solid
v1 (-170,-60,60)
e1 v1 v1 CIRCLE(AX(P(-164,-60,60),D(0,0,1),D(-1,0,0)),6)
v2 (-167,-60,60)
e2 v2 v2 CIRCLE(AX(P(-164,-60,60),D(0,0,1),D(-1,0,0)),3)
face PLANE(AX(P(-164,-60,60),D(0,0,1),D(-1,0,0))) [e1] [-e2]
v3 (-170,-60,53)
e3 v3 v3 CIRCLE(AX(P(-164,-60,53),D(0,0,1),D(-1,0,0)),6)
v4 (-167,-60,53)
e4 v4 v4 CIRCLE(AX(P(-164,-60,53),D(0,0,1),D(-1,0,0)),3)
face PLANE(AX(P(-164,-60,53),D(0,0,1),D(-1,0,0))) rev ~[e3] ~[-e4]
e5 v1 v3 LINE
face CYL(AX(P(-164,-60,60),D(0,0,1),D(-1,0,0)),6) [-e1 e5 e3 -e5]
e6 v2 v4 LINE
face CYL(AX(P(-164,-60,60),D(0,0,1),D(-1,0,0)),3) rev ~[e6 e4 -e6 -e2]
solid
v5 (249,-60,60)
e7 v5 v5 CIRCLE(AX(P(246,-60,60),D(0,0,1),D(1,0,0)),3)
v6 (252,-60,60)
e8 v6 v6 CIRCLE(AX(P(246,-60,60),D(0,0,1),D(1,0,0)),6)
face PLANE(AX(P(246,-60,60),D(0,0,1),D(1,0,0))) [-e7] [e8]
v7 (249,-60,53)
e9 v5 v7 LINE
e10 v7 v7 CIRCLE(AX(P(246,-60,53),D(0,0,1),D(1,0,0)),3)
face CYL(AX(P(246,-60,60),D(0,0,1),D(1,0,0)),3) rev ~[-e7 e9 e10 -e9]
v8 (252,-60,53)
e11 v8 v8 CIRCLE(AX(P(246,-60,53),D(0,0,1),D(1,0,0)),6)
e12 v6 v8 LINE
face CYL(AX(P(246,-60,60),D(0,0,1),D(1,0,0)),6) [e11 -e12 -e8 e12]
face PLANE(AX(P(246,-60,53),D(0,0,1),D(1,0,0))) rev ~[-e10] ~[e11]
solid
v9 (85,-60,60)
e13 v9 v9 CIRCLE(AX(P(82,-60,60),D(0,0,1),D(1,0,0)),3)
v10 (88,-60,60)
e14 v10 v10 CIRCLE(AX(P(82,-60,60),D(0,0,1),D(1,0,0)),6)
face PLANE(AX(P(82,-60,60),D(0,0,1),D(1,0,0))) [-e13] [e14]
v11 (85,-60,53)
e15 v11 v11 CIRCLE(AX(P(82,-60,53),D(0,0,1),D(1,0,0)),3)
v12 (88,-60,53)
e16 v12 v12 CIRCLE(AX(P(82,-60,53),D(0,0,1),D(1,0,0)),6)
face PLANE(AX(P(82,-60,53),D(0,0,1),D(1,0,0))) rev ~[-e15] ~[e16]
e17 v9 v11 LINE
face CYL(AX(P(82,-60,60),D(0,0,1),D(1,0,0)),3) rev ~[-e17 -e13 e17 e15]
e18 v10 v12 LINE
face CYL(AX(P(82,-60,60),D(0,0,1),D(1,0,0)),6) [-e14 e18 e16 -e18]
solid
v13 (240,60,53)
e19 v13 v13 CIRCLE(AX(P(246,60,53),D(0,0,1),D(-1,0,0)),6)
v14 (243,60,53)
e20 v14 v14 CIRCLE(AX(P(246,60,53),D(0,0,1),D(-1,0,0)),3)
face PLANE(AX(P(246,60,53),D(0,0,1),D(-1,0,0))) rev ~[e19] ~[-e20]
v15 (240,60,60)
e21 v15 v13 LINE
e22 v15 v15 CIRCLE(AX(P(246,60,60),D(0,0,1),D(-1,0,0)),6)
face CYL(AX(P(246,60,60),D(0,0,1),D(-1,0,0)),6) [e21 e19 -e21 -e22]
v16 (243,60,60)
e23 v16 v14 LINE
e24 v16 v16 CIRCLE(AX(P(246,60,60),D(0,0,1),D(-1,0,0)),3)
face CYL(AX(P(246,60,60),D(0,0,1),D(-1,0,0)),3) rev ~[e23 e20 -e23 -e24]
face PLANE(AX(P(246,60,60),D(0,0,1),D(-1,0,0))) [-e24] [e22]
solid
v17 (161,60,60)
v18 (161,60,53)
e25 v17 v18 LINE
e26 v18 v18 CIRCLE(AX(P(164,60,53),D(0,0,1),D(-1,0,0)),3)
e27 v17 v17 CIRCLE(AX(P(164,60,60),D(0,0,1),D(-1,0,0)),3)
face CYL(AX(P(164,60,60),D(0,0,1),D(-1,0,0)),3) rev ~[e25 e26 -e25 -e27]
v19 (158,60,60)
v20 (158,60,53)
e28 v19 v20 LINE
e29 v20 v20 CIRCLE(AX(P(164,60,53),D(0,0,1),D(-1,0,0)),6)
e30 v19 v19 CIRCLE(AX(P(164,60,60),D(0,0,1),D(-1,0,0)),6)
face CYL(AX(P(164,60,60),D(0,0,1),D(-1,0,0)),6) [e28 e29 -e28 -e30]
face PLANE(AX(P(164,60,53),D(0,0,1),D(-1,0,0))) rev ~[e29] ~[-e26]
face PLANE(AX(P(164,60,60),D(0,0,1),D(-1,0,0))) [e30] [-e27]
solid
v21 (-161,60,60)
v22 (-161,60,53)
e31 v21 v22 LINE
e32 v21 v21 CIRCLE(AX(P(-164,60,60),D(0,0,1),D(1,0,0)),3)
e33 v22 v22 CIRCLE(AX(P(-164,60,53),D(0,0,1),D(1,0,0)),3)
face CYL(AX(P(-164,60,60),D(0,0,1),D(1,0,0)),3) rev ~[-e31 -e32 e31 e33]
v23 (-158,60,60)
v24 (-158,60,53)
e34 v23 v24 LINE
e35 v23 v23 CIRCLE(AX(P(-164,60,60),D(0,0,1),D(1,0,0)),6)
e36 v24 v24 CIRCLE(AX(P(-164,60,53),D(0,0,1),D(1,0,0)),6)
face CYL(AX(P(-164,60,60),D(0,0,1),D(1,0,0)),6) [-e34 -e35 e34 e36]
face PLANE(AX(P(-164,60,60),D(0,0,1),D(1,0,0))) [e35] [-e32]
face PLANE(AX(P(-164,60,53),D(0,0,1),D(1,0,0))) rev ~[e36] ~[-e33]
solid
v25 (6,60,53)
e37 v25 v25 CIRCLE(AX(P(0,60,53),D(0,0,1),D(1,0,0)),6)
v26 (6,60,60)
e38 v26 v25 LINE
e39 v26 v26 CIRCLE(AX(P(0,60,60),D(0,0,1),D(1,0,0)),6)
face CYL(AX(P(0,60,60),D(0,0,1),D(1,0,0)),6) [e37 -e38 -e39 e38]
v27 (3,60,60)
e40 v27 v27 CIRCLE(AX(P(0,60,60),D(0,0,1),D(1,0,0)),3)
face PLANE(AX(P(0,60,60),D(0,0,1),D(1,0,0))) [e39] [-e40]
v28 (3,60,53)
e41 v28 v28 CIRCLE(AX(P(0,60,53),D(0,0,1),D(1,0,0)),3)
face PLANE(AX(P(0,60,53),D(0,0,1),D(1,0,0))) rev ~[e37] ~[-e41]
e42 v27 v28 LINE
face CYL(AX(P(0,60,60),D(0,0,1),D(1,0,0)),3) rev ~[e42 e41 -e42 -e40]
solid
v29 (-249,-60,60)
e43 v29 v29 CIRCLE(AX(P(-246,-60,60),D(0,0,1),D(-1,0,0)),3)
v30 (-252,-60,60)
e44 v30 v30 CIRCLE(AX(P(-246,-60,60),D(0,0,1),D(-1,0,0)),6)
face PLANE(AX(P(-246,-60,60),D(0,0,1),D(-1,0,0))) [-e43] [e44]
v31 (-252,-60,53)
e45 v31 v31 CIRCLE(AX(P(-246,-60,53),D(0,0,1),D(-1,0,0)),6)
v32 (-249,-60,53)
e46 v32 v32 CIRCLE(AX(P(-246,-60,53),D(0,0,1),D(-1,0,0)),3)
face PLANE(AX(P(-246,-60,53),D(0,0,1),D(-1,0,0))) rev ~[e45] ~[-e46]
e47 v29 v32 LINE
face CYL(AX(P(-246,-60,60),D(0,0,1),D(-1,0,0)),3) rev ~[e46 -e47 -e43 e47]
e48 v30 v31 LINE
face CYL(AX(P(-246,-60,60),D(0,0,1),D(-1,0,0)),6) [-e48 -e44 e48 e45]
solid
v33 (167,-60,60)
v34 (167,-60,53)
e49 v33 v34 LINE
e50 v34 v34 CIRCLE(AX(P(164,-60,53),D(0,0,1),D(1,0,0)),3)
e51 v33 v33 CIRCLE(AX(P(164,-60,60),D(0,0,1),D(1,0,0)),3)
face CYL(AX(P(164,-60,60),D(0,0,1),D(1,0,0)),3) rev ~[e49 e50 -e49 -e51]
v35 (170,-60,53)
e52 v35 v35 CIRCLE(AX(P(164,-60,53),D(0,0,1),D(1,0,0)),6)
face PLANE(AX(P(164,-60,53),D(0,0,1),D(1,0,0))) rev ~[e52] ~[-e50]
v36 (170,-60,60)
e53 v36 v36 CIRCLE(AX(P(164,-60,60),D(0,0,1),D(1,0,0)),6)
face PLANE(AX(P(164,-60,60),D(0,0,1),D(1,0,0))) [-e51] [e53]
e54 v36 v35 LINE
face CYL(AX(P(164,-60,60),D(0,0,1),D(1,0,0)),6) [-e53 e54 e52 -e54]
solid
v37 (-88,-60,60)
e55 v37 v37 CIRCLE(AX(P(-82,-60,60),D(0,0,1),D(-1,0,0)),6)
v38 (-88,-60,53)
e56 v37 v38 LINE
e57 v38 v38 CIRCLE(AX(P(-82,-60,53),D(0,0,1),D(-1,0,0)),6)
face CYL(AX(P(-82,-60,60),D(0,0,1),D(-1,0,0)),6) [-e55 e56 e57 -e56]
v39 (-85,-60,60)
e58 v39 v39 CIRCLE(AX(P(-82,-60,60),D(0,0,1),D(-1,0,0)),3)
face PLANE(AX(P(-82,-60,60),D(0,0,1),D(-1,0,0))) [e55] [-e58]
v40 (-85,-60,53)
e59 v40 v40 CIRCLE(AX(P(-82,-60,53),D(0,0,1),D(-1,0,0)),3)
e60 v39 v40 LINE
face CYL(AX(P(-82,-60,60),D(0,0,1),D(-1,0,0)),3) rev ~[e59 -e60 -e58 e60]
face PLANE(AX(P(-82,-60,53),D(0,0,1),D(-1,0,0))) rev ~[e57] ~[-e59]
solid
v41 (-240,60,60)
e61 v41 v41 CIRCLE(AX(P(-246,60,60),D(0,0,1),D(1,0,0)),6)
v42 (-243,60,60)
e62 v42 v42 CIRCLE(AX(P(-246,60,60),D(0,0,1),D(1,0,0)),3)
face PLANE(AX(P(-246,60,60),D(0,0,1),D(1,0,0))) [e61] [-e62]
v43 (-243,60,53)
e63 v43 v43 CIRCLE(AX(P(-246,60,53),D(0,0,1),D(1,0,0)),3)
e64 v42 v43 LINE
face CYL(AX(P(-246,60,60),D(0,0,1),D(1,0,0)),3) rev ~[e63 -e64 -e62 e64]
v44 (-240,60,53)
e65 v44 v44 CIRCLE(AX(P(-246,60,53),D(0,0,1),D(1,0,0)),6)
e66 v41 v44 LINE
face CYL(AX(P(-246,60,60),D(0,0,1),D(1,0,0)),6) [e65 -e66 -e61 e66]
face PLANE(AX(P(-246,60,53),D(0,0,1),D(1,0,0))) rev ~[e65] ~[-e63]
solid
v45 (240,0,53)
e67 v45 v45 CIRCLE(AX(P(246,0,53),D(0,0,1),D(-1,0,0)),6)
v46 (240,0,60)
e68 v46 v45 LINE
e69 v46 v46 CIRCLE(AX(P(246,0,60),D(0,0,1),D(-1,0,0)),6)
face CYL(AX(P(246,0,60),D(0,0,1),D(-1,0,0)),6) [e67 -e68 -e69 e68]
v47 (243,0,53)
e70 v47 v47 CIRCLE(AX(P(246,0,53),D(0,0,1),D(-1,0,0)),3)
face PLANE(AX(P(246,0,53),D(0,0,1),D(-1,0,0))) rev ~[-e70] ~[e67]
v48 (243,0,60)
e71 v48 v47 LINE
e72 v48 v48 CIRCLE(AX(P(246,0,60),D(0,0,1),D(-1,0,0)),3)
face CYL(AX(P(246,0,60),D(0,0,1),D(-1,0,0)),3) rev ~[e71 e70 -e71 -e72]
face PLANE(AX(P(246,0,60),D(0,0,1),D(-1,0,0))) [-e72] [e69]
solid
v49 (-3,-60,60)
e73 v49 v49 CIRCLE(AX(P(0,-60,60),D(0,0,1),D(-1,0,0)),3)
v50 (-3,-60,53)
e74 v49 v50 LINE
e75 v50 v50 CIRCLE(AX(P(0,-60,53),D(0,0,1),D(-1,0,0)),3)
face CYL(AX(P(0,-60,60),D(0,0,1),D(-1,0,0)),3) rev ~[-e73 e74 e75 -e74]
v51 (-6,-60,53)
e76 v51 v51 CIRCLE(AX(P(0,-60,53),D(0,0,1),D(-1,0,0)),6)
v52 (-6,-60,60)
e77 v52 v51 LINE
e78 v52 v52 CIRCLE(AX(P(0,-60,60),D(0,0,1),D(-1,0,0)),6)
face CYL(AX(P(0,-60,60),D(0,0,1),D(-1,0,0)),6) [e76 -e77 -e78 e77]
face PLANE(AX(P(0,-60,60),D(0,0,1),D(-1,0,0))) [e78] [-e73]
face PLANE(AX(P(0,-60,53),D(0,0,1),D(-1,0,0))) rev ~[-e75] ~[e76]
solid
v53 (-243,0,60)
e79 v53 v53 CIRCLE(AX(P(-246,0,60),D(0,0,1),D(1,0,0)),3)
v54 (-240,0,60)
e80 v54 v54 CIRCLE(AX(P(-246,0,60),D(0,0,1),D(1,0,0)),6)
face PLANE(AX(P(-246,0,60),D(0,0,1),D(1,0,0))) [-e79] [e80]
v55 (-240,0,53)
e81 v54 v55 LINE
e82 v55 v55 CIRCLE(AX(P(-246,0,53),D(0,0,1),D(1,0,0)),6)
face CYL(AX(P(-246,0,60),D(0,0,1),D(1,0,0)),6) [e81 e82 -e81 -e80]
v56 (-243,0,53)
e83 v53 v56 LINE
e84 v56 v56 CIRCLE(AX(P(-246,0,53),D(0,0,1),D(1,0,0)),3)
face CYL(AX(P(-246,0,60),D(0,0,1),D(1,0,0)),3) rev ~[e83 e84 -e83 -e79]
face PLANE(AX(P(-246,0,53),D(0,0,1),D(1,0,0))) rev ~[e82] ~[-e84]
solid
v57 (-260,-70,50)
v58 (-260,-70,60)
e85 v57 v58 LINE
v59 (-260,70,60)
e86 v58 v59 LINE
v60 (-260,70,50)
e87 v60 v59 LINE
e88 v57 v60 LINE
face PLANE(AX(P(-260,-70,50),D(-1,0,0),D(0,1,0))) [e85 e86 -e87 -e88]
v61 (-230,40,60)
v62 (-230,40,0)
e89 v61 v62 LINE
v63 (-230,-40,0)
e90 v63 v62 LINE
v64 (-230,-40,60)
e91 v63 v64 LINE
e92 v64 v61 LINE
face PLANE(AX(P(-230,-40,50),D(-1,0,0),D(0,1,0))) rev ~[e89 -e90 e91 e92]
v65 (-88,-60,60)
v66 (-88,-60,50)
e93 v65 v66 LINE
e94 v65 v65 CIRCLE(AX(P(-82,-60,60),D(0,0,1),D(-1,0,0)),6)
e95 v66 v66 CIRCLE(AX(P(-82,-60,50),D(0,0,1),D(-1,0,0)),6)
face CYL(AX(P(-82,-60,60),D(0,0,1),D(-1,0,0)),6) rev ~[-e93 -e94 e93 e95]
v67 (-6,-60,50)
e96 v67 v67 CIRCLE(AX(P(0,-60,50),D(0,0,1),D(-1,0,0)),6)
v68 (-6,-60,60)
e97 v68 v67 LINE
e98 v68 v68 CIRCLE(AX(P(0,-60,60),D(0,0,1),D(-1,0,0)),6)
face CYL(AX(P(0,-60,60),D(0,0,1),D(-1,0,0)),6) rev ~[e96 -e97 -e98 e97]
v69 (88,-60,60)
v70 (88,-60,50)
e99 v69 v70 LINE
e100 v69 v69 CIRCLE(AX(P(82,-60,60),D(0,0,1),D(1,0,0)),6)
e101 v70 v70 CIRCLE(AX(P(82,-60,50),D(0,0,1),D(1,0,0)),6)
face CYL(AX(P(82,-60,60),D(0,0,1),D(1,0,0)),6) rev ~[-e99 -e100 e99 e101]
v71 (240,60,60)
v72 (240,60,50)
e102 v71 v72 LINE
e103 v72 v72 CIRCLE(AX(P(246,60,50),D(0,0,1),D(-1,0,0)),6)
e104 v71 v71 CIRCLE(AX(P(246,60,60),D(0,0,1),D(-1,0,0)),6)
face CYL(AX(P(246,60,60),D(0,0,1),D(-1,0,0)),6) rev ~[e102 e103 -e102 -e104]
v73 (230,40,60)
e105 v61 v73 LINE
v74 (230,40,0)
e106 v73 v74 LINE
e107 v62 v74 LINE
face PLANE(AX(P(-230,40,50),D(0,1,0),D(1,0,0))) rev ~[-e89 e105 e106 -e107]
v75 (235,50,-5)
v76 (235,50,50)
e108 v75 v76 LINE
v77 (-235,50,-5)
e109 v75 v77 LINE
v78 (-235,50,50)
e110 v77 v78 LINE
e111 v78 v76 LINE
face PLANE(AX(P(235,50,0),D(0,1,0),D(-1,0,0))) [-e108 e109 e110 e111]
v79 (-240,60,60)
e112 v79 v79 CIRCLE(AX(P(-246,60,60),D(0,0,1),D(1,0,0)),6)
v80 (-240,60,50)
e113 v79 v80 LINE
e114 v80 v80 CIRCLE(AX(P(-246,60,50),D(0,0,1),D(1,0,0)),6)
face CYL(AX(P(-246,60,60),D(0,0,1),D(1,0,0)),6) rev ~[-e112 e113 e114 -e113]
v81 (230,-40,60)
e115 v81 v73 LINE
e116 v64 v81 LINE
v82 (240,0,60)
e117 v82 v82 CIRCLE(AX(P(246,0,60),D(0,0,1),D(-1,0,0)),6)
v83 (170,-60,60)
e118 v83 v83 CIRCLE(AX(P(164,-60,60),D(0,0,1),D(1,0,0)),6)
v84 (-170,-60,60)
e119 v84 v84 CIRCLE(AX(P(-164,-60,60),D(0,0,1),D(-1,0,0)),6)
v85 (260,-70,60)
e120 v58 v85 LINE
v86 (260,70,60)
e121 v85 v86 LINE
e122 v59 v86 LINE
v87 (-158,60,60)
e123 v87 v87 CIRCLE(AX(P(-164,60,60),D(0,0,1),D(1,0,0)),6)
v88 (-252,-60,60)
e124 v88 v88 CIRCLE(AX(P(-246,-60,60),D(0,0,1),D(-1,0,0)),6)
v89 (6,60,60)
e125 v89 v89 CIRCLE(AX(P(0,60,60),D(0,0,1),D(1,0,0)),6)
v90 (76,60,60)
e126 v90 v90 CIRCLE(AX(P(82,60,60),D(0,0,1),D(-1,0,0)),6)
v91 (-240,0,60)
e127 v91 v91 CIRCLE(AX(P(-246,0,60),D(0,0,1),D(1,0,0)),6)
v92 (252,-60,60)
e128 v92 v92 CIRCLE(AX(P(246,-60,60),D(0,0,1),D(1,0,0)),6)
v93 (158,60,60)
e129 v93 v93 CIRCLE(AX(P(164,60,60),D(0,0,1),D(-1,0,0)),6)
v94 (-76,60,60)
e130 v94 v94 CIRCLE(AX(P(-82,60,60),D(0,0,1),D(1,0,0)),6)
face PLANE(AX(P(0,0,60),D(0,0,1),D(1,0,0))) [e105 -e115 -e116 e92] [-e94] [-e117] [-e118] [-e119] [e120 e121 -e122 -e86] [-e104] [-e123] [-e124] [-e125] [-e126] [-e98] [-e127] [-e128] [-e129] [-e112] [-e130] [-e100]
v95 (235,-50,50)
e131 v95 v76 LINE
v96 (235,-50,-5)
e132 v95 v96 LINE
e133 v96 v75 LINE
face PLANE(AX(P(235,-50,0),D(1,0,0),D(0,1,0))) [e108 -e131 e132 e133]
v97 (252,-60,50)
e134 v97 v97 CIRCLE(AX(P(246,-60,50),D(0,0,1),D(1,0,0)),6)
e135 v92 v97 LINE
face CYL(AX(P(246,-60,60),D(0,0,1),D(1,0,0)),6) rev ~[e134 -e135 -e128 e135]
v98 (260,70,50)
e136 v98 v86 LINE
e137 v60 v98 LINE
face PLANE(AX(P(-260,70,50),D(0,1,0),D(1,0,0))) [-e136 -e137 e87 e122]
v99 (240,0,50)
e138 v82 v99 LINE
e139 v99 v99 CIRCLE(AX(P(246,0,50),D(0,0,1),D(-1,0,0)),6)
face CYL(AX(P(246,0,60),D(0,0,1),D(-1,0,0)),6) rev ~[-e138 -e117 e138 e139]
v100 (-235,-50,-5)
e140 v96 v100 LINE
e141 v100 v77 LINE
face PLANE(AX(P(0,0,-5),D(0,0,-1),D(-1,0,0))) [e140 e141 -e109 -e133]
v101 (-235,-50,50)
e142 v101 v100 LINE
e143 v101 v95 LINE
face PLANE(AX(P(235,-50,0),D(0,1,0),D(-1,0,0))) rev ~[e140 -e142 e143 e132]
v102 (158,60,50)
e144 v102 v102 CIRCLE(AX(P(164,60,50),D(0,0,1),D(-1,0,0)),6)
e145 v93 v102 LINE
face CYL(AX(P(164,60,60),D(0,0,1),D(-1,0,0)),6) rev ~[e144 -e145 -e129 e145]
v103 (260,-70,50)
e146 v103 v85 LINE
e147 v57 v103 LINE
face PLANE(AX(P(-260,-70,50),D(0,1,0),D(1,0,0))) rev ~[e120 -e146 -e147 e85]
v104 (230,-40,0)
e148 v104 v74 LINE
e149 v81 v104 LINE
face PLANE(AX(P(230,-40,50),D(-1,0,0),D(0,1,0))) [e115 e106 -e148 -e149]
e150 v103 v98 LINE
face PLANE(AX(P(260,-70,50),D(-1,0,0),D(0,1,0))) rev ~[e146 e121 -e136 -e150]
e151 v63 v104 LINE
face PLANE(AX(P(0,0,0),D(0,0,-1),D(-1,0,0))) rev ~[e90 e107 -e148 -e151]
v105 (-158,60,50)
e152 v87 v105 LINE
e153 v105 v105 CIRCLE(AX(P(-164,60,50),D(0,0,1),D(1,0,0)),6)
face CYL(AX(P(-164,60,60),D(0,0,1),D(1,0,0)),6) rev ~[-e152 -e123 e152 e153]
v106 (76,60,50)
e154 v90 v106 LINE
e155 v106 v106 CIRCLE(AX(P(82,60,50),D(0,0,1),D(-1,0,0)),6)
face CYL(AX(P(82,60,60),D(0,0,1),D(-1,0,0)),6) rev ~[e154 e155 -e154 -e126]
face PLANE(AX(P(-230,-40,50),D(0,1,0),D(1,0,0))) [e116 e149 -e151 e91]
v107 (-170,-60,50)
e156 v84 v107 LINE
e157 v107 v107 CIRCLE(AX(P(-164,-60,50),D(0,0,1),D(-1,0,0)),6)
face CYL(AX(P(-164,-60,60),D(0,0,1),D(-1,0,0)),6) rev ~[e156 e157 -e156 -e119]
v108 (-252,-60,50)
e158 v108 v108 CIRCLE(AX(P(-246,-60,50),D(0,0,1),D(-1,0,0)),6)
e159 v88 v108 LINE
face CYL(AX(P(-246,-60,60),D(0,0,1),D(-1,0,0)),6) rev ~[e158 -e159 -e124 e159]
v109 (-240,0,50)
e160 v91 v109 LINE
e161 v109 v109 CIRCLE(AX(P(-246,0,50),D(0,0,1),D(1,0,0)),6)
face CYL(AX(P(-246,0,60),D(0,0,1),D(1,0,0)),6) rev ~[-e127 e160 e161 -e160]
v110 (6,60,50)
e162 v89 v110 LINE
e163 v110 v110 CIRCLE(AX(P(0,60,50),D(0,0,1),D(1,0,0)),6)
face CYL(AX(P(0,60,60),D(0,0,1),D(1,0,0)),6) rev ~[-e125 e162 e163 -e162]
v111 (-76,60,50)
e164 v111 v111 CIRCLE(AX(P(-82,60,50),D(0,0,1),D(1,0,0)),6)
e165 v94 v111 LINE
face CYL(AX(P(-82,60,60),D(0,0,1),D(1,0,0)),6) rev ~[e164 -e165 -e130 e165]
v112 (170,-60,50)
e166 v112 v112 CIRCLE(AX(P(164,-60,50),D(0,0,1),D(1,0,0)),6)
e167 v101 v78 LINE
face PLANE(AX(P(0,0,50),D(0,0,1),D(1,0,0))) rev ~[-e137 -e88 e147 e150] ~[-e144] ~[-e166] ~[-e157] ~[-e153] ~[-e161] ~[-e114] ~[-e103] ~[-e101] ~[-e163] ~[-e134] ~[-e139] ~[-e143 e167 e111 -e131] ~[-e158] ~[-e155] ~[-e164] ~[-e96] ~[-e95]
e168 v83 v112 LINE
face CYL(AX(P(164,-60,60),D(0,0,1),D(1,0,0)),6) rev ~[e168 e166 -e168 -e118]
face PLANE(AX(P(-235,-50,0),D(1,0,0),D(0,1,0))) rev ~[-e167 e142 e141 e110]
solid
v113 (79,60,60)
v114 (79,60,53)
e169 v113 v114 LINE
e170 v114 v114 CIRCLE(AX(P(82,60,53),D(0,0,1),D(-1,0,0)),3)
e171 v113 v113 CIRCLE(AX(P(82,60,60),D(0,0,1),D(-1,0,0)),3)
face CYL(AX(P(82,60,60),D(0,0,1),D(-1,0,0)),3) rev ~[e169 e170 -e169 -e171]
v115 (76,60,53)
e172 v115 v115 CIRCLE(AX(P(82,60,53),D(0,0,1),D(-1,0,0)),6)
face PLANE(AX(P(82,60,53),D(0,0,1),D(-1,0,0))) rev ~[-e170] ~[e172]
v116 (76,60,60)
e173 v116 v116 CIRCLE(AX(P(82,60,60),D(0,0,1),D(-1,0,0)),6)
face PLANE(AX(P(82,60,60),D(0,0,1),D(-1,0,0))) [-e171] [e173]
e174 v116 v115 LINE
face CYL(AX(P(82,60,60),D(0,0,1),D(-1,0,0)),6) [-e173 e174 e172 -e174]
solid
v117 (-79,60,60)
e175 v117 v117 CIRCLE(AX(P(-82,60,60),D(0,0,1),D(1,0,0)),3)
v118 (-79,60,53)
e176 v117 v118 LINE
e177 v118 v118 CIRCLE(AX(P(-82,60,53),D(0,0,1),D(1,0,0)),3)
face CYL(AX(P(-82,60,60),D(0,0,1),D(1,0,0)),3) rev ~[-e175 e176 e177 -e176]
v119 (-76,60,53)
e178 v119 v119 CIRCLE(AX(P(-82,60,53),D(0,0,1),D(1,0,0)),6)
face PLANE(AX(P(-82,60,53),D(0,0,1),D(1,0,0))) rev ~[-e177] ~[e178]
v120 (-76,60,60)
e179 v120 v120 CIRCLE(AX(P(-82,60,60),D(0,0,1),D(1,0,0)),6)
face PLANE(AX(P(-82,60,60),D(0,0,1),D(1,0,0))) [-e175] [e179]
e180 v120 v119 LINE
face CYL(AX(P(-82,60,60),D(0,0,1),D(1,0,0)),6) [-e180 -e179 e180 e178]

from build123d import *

# Parameters (mm, degrees)
SKETCH_1_W          = 470
SKETCH_1_H          = 100
EXTRUDE_1_DEPTH     = 50
SKETCH_2_W          = 460
SKETCH_2_H          = 80
CUT_EXTRUDE_1_DEPTH = 180
SKETCH_3_W          = 520
SKETCH_3_H          = 140
SKETCH_3_W_2        = 460
SKETCH_3_H_2        = 80
EXTRUDE_2_DEPTH     = 10
SKETCH_4_R          = 6
CUT_EXTRUDE_2_DEPTH = 10
SKETCH_5_R          = 6
SKETCH_5_R_2        = 3
EXTRUDE_3_DEPTH     = 7
EXTRUDE_3_2_DEPTH   = 7
EXTRUDE_3_3_DEPTH   = 7
EXTRUDE_3_4_DEPTH   = 7
EXTRUDE_3_5_DEPTH   = 7
EXTRUDE_3_6_DEPTH   = 7
EXTRUDE_3_7_DEPTH   = 7
EXTRUDE_3_8_DEPTH   = 7
EXTRUDE_3_9_DEPTH   = 7
EXTRUDE_3_10_DEPTH  = 7
EXTRUDE_3_11_DEPTH  = 7
EXTRUDE_3_12_DEPTH  = 7
EXTRUDE_3_13_DEPTH  = 7
EXTRUDE_3_14_DEPTH  = 7
EXTRUDE_3_15_DEPTH  = 7
EXTRUDE_3_16_DEPTH  = 7
SKETCH_6_W          = 470
SKETCH_6_H          = 100
EXTRUDE_4_DEPTH     = 5


with BuildPart() as part:
    # 草图1 → 凸台-拉伸1 (new body)
    with BuildSketch(Plane.XY):
        Rectangle(SKETCH_1_W, SKETCH_1_H)
    extrude(amount=EXTRUDE_1_DEPTH)

    # 草图2 → 切除-拉伸1 (cut)
    with BuildSketch(Plane.XY.offset(50)):
        Rectangle(SKETCH_2_W, SKETCH_2_H)
    extrude(amount=-CUT_EXTRUDE_1_DEPTH, mode=Mode.SUBTRACT)

    # 草图3 → 凸台-拉伸2 (add)
    with BuildSketch(Plane.XY.offset(50)):
        Rectangle(SKETCH_3_W, SKETCH_3_H)
        Rectangle(SKETCH_3_W_2, SKETCH_3_H_2, mode=Mode.SUBTRACT)
    extrude(amount=EXTRUDE_2_DEPTH)

    # 草图4 → 切除-拉伸2 (cut)
    with BuildSketch(Plane.XY.offset(60)):
        with Locations((0, 60)):
            Circle(SKETCH_4_R)
        with Locations((-82, 60)):
            Circle(SKETCH_4_R)
        with Locations((-164, 60)):
            Circle(SKETCH_4_R)
        with Locations((-246, 60)):
            Circle(SKETCH_4_R)
        with Locations(Location((246, 0, 0), (0, 0, 180))):
            Circle(SKETCH_4_R)
        with Locations(Location((246, 60, 0), (0, 0, 180))):
            Circle(SKETCH_4_R)
        with Locations(Location((164, 60, 0), (0, 0, 180))):
            Circle(SKETCH_4_R)
        with Locations(Location((82, 60, 0), (0, 0, 180))):
            Circle(SKETCH_4_R)
        with Locations((-246, 0)):
            Circle(SKETCH_4_R)
        with Locations((82, -60)):
            Circle(SKETCH_4_R)
        with Locations((164, -60)):
            Circle(SKETCH_4_R)
        with Locations((246, -60)):
            Circle(SKETCH_4_R)
        with Locations(Location((-246, -60, 0), (0, 0, 180))):
            Circle(SKETCH_4_R)
        with Locations(Location((-164, -60, 0), (0, 0, 180))):
            Circle(SKETCH_4_R)
        with Locations(Location((-82, -60, 0), (0, 0, 180))):
            Circle(SKETCH_4_R)
        with Locations(Location((0, -60, 0), (0, 0, 180))):
            Circle(SKETCH_4_R)
    extrude(amount=-CUT_EXTRUDE_2_DEPTH, mode=Mode.SUBTRACT)

    # 草图6 → 凸台-拉伸4 (add)
    with BuildSketch(Plane(origin=(0, 0, 0), x_dir=(-1, 0, 0), z_dir=(0, 0, -1))):
        Rectangle(SKETCH_6_W, SKETCH_6_H)
    extrude(amount=EXTRUDE_4_DEPTH)


with BuildPart() as body_2:
    # 草图5 → 凸台-拉伸3 (new body)
    with BuildSketch(Plane.XY.offset(60)):
        with Locations((0, 60)):
            Circle(SKETCH_5_R)
        with Locations((0, 60)):
            Circle(SKETCH_5_R_2, mode=Mode.SUBTRACT)
    extrude(amount=-EXTRUDE_3_DEPTH)


with BuildPart() as body_3:
    # 草图5 → Extrude 3 2 (new body)
    with BuildSketch(Plane.XY.offset(60)):
        with Locations((-82, 60)):
            Circle(SKETCH_5_R)
        with Locations((-82, 60)):
            Circle(SKETCH_5_R_2, mode=Mode.SUBTRACT)
    extrude(amount=-EXTRUDE_3_2_DEPTH)


with BuildPart() as body_4:
    # 草图5 → Extrude 3 3 (new body)
    with BuildSketch(Plane.XY.offset(60)):
        with Locations((-164, 60)):
            Circle(SKETCH_5_R)
        with Locations((-164, 60)):
            Circle(SKETCH_5_R_2, mode=Mode.SUBTRACT)
    extrude(amount=-EXTRUDE_3_3_DEPTH)


with BuildPart() as body_5:
    # 草图5 → Extrude 3 4 (new body)
    with BuildSketch(Plane.XY.offset(60)):
        with Locations((-246, 60)):
            Circle(SKETCH_5_R)
        with Locations((-246, 60)):
            Circle(SKETCH_5_R_2, mode=Mode.SUBTRACT)
    extrude(amount=-EXTRUDE_3_4_DEPTH)


with BuildPart() as body_6:
    # 草图5 → Extrude 3 5 (new body)
    with BuildSketch(Plane.XY.offset(60)):
        with Locations(Location((-246, -60, 0), (0, 0, 180))):
            Circle(SKETCH_5_R)
        with Locations(Location((-246, -60, 0), (0, 0, 180))):
            Circle(SKETCH_5_R_2, mode=Mode.SUBTRACT)
    extrude(amount=-EXTRUDE_3_5_DEPTH)


with BuildPart() as body_7:
    # 草图5 → Extrude 3 6 (new body)
    with BuildSketch(Plane.XY.offset(60)):
        with Locations(Location((-164, -60, 0), (0, 0, 180))):
            Circle(SKETCH_5_R)
        with Locations(Location((-164, -60, 0), (0, 0, 180))):
            Circle(SKETCH_5_R_2, mode=Mode.SUBTRACT)
    extrude(amount=-EXTRUDE_3_6_DEPTH)


with BuildPart() as body_8:
    # 草图5 → Extrude 3 7 (new body)
    with BuildSketch(Plane.XY.offset(60)):
        with Locations(Location((-82, -60, 0), (0, 0, 180))):
            Circle(SKETCH_5_R)
        with Locations(Location((-82, -60, 0), (0, 0, 180))):
            Circle(SKETCH_5_R_2, mode=Mode.SUBTRACT)
    extrude(amount=-EXTRUDE_3_7_DEPTH)


with BuildPart() as body_9:
    # 草图5 → Extrude 3 8 (new body)
    with BuildSketch(Plane.XY.offset(60)):
        with Locations(Location((0, -60, 0), (0, 0, 180))):
            Circle(SKETCH_5_R)
        with Locations(Location((0, -60, 0), (0, 0, 180))):
            Circle(SKETCH_5_R_2, mode=Mode.SUBTRACT)
    extrude(amount=-EXTRUDE_3_8_DEPTH)


with BuildPart() as body_10:
    # 草图5 → Extrude 3 9 (new body)
    with BuildSketch(Plane.XY.offset(60)):
        with Locations((82, -60)):
            Circle(SKETCH_5_R)
        with Locations((82, -60)):
            Circle(SKETCH_5_R_2, mode=Mode.SUBTRACT)
    extrude(amount=-EXTRUDE_3_9_DEPTH)


with BuildPart() as body_11:
    # 草图5 → Extrude 3 10 (new body)
    with BuildSketch(Plane.XY.offset(60)):
        with Locations((164, -60)):
            Circle(SKETCH_5_R)
        with Locations((164, -60)):
            Circle(SKETCH_5_R_2, mode=Mode.SUBTRACT)
    extrude(amount=-EXTRUDE_3_10_DEPTH)


with BuildPart() as body_12:
    # 草图5 → Extrude 3 11 (new body)
    with BuildSketch(Plane.XY.offset(60)):
        with Locations((246, -60)):
            Circle(SKETCH_5_R)
        with Locations((246, -60)):
            Circle(SKETCH_5_R_2, mode=Mode.SUBTRACT)
    extrude(amount=-EXTRUDE_3_11_DEPTH)


with BuildPart() as body_13:
    # 草图5 → Extrude 3 12 (new body)
    with BuildSketch(Plane.XY.offset(60)):
        with Locations(Location((246, 0, 0), (0, 0, 180))):
            Circle(SKETCH_5_R)
        with Locations(Location((246, 0, 0), (0, 0, 180))):
            Circle(SKETCH_5_R_2, mode=Mode.SUBTRACT)
    extrude(amount=-EXTRUDE_3_12_DEPTH)


with BuildPart() as body_14:
    # 草图5 → Extrude 3 13 (new body)
    with BuildSketch(Plane.XY.offset(60)):
        with Locations(Location((246, 60, 0), (0, 0, 180))):
            Circle(SKETCH_5_R)
        with Locations(Location((246, 60, 0), (0, 0, 180))):
            Circle(SKETCH_5_R_2, mode=Mode.SUBTRACT)
    extrude(amount=-EXTRUDE_3_13_DEPTH)


with BuildPart() as body_15:
    # 草图5 → Extrude 3 14 (new body)
    with BuildSketch(Plane.XY.offset(60)):
        with Locations(Location((164, 60, 0), (0, 0, 180))):
            Circle(SKETCH_5_R)
        with Locations(Location((164, 60, 0), (0, 0, 180))):
            Circle(SKETCH_5_R_2, mode=Mode.SUBTRACT)
    extrude(amount=-EXTRUDE_3_14_DEPTH)


with BuildPart() as body_16:
    # 草图5 → Extrude 3 15 (new body)
    with BuildSketch(Plane.XY.offset(60)):
        with Locations(Location((82, 60, 0), (0, 0, 180))):
            Circle(SKETCH_5_R)
        with Locations(Location((82, 60, 0), (0, 0, 180))):
            Circle(SKETCH_5_R_2, mode=Mode.SUBTRACT)
    extrude(amount=-EXTRUDE_3_15_DEPTH)


with BuildPart() as body_17:
    # 草图5 → Extrude 3 16 (new body)
    with BuildSketch(Plane.XY.offset(60)):
        with Locations((-246, 0)):
            Circle(SKETCH_5_R)
        with Locations((-246, 0)):
            Circle(SKETCH_5_R_2, mode=Mode.SUBTRACT)
    extrude(amount=-EXTRUDE_3_16_DEPTH)


solid = Compound([part.part, body_2.part, body_3.part, body_4.part, body_5.part, body_6.part, body_7.part, body_8.part, body_9.part, body_10.part, body_11.part, body_12.part, body_13.part, body_14.part, body_15.part, body_16.part, body_17.part])
